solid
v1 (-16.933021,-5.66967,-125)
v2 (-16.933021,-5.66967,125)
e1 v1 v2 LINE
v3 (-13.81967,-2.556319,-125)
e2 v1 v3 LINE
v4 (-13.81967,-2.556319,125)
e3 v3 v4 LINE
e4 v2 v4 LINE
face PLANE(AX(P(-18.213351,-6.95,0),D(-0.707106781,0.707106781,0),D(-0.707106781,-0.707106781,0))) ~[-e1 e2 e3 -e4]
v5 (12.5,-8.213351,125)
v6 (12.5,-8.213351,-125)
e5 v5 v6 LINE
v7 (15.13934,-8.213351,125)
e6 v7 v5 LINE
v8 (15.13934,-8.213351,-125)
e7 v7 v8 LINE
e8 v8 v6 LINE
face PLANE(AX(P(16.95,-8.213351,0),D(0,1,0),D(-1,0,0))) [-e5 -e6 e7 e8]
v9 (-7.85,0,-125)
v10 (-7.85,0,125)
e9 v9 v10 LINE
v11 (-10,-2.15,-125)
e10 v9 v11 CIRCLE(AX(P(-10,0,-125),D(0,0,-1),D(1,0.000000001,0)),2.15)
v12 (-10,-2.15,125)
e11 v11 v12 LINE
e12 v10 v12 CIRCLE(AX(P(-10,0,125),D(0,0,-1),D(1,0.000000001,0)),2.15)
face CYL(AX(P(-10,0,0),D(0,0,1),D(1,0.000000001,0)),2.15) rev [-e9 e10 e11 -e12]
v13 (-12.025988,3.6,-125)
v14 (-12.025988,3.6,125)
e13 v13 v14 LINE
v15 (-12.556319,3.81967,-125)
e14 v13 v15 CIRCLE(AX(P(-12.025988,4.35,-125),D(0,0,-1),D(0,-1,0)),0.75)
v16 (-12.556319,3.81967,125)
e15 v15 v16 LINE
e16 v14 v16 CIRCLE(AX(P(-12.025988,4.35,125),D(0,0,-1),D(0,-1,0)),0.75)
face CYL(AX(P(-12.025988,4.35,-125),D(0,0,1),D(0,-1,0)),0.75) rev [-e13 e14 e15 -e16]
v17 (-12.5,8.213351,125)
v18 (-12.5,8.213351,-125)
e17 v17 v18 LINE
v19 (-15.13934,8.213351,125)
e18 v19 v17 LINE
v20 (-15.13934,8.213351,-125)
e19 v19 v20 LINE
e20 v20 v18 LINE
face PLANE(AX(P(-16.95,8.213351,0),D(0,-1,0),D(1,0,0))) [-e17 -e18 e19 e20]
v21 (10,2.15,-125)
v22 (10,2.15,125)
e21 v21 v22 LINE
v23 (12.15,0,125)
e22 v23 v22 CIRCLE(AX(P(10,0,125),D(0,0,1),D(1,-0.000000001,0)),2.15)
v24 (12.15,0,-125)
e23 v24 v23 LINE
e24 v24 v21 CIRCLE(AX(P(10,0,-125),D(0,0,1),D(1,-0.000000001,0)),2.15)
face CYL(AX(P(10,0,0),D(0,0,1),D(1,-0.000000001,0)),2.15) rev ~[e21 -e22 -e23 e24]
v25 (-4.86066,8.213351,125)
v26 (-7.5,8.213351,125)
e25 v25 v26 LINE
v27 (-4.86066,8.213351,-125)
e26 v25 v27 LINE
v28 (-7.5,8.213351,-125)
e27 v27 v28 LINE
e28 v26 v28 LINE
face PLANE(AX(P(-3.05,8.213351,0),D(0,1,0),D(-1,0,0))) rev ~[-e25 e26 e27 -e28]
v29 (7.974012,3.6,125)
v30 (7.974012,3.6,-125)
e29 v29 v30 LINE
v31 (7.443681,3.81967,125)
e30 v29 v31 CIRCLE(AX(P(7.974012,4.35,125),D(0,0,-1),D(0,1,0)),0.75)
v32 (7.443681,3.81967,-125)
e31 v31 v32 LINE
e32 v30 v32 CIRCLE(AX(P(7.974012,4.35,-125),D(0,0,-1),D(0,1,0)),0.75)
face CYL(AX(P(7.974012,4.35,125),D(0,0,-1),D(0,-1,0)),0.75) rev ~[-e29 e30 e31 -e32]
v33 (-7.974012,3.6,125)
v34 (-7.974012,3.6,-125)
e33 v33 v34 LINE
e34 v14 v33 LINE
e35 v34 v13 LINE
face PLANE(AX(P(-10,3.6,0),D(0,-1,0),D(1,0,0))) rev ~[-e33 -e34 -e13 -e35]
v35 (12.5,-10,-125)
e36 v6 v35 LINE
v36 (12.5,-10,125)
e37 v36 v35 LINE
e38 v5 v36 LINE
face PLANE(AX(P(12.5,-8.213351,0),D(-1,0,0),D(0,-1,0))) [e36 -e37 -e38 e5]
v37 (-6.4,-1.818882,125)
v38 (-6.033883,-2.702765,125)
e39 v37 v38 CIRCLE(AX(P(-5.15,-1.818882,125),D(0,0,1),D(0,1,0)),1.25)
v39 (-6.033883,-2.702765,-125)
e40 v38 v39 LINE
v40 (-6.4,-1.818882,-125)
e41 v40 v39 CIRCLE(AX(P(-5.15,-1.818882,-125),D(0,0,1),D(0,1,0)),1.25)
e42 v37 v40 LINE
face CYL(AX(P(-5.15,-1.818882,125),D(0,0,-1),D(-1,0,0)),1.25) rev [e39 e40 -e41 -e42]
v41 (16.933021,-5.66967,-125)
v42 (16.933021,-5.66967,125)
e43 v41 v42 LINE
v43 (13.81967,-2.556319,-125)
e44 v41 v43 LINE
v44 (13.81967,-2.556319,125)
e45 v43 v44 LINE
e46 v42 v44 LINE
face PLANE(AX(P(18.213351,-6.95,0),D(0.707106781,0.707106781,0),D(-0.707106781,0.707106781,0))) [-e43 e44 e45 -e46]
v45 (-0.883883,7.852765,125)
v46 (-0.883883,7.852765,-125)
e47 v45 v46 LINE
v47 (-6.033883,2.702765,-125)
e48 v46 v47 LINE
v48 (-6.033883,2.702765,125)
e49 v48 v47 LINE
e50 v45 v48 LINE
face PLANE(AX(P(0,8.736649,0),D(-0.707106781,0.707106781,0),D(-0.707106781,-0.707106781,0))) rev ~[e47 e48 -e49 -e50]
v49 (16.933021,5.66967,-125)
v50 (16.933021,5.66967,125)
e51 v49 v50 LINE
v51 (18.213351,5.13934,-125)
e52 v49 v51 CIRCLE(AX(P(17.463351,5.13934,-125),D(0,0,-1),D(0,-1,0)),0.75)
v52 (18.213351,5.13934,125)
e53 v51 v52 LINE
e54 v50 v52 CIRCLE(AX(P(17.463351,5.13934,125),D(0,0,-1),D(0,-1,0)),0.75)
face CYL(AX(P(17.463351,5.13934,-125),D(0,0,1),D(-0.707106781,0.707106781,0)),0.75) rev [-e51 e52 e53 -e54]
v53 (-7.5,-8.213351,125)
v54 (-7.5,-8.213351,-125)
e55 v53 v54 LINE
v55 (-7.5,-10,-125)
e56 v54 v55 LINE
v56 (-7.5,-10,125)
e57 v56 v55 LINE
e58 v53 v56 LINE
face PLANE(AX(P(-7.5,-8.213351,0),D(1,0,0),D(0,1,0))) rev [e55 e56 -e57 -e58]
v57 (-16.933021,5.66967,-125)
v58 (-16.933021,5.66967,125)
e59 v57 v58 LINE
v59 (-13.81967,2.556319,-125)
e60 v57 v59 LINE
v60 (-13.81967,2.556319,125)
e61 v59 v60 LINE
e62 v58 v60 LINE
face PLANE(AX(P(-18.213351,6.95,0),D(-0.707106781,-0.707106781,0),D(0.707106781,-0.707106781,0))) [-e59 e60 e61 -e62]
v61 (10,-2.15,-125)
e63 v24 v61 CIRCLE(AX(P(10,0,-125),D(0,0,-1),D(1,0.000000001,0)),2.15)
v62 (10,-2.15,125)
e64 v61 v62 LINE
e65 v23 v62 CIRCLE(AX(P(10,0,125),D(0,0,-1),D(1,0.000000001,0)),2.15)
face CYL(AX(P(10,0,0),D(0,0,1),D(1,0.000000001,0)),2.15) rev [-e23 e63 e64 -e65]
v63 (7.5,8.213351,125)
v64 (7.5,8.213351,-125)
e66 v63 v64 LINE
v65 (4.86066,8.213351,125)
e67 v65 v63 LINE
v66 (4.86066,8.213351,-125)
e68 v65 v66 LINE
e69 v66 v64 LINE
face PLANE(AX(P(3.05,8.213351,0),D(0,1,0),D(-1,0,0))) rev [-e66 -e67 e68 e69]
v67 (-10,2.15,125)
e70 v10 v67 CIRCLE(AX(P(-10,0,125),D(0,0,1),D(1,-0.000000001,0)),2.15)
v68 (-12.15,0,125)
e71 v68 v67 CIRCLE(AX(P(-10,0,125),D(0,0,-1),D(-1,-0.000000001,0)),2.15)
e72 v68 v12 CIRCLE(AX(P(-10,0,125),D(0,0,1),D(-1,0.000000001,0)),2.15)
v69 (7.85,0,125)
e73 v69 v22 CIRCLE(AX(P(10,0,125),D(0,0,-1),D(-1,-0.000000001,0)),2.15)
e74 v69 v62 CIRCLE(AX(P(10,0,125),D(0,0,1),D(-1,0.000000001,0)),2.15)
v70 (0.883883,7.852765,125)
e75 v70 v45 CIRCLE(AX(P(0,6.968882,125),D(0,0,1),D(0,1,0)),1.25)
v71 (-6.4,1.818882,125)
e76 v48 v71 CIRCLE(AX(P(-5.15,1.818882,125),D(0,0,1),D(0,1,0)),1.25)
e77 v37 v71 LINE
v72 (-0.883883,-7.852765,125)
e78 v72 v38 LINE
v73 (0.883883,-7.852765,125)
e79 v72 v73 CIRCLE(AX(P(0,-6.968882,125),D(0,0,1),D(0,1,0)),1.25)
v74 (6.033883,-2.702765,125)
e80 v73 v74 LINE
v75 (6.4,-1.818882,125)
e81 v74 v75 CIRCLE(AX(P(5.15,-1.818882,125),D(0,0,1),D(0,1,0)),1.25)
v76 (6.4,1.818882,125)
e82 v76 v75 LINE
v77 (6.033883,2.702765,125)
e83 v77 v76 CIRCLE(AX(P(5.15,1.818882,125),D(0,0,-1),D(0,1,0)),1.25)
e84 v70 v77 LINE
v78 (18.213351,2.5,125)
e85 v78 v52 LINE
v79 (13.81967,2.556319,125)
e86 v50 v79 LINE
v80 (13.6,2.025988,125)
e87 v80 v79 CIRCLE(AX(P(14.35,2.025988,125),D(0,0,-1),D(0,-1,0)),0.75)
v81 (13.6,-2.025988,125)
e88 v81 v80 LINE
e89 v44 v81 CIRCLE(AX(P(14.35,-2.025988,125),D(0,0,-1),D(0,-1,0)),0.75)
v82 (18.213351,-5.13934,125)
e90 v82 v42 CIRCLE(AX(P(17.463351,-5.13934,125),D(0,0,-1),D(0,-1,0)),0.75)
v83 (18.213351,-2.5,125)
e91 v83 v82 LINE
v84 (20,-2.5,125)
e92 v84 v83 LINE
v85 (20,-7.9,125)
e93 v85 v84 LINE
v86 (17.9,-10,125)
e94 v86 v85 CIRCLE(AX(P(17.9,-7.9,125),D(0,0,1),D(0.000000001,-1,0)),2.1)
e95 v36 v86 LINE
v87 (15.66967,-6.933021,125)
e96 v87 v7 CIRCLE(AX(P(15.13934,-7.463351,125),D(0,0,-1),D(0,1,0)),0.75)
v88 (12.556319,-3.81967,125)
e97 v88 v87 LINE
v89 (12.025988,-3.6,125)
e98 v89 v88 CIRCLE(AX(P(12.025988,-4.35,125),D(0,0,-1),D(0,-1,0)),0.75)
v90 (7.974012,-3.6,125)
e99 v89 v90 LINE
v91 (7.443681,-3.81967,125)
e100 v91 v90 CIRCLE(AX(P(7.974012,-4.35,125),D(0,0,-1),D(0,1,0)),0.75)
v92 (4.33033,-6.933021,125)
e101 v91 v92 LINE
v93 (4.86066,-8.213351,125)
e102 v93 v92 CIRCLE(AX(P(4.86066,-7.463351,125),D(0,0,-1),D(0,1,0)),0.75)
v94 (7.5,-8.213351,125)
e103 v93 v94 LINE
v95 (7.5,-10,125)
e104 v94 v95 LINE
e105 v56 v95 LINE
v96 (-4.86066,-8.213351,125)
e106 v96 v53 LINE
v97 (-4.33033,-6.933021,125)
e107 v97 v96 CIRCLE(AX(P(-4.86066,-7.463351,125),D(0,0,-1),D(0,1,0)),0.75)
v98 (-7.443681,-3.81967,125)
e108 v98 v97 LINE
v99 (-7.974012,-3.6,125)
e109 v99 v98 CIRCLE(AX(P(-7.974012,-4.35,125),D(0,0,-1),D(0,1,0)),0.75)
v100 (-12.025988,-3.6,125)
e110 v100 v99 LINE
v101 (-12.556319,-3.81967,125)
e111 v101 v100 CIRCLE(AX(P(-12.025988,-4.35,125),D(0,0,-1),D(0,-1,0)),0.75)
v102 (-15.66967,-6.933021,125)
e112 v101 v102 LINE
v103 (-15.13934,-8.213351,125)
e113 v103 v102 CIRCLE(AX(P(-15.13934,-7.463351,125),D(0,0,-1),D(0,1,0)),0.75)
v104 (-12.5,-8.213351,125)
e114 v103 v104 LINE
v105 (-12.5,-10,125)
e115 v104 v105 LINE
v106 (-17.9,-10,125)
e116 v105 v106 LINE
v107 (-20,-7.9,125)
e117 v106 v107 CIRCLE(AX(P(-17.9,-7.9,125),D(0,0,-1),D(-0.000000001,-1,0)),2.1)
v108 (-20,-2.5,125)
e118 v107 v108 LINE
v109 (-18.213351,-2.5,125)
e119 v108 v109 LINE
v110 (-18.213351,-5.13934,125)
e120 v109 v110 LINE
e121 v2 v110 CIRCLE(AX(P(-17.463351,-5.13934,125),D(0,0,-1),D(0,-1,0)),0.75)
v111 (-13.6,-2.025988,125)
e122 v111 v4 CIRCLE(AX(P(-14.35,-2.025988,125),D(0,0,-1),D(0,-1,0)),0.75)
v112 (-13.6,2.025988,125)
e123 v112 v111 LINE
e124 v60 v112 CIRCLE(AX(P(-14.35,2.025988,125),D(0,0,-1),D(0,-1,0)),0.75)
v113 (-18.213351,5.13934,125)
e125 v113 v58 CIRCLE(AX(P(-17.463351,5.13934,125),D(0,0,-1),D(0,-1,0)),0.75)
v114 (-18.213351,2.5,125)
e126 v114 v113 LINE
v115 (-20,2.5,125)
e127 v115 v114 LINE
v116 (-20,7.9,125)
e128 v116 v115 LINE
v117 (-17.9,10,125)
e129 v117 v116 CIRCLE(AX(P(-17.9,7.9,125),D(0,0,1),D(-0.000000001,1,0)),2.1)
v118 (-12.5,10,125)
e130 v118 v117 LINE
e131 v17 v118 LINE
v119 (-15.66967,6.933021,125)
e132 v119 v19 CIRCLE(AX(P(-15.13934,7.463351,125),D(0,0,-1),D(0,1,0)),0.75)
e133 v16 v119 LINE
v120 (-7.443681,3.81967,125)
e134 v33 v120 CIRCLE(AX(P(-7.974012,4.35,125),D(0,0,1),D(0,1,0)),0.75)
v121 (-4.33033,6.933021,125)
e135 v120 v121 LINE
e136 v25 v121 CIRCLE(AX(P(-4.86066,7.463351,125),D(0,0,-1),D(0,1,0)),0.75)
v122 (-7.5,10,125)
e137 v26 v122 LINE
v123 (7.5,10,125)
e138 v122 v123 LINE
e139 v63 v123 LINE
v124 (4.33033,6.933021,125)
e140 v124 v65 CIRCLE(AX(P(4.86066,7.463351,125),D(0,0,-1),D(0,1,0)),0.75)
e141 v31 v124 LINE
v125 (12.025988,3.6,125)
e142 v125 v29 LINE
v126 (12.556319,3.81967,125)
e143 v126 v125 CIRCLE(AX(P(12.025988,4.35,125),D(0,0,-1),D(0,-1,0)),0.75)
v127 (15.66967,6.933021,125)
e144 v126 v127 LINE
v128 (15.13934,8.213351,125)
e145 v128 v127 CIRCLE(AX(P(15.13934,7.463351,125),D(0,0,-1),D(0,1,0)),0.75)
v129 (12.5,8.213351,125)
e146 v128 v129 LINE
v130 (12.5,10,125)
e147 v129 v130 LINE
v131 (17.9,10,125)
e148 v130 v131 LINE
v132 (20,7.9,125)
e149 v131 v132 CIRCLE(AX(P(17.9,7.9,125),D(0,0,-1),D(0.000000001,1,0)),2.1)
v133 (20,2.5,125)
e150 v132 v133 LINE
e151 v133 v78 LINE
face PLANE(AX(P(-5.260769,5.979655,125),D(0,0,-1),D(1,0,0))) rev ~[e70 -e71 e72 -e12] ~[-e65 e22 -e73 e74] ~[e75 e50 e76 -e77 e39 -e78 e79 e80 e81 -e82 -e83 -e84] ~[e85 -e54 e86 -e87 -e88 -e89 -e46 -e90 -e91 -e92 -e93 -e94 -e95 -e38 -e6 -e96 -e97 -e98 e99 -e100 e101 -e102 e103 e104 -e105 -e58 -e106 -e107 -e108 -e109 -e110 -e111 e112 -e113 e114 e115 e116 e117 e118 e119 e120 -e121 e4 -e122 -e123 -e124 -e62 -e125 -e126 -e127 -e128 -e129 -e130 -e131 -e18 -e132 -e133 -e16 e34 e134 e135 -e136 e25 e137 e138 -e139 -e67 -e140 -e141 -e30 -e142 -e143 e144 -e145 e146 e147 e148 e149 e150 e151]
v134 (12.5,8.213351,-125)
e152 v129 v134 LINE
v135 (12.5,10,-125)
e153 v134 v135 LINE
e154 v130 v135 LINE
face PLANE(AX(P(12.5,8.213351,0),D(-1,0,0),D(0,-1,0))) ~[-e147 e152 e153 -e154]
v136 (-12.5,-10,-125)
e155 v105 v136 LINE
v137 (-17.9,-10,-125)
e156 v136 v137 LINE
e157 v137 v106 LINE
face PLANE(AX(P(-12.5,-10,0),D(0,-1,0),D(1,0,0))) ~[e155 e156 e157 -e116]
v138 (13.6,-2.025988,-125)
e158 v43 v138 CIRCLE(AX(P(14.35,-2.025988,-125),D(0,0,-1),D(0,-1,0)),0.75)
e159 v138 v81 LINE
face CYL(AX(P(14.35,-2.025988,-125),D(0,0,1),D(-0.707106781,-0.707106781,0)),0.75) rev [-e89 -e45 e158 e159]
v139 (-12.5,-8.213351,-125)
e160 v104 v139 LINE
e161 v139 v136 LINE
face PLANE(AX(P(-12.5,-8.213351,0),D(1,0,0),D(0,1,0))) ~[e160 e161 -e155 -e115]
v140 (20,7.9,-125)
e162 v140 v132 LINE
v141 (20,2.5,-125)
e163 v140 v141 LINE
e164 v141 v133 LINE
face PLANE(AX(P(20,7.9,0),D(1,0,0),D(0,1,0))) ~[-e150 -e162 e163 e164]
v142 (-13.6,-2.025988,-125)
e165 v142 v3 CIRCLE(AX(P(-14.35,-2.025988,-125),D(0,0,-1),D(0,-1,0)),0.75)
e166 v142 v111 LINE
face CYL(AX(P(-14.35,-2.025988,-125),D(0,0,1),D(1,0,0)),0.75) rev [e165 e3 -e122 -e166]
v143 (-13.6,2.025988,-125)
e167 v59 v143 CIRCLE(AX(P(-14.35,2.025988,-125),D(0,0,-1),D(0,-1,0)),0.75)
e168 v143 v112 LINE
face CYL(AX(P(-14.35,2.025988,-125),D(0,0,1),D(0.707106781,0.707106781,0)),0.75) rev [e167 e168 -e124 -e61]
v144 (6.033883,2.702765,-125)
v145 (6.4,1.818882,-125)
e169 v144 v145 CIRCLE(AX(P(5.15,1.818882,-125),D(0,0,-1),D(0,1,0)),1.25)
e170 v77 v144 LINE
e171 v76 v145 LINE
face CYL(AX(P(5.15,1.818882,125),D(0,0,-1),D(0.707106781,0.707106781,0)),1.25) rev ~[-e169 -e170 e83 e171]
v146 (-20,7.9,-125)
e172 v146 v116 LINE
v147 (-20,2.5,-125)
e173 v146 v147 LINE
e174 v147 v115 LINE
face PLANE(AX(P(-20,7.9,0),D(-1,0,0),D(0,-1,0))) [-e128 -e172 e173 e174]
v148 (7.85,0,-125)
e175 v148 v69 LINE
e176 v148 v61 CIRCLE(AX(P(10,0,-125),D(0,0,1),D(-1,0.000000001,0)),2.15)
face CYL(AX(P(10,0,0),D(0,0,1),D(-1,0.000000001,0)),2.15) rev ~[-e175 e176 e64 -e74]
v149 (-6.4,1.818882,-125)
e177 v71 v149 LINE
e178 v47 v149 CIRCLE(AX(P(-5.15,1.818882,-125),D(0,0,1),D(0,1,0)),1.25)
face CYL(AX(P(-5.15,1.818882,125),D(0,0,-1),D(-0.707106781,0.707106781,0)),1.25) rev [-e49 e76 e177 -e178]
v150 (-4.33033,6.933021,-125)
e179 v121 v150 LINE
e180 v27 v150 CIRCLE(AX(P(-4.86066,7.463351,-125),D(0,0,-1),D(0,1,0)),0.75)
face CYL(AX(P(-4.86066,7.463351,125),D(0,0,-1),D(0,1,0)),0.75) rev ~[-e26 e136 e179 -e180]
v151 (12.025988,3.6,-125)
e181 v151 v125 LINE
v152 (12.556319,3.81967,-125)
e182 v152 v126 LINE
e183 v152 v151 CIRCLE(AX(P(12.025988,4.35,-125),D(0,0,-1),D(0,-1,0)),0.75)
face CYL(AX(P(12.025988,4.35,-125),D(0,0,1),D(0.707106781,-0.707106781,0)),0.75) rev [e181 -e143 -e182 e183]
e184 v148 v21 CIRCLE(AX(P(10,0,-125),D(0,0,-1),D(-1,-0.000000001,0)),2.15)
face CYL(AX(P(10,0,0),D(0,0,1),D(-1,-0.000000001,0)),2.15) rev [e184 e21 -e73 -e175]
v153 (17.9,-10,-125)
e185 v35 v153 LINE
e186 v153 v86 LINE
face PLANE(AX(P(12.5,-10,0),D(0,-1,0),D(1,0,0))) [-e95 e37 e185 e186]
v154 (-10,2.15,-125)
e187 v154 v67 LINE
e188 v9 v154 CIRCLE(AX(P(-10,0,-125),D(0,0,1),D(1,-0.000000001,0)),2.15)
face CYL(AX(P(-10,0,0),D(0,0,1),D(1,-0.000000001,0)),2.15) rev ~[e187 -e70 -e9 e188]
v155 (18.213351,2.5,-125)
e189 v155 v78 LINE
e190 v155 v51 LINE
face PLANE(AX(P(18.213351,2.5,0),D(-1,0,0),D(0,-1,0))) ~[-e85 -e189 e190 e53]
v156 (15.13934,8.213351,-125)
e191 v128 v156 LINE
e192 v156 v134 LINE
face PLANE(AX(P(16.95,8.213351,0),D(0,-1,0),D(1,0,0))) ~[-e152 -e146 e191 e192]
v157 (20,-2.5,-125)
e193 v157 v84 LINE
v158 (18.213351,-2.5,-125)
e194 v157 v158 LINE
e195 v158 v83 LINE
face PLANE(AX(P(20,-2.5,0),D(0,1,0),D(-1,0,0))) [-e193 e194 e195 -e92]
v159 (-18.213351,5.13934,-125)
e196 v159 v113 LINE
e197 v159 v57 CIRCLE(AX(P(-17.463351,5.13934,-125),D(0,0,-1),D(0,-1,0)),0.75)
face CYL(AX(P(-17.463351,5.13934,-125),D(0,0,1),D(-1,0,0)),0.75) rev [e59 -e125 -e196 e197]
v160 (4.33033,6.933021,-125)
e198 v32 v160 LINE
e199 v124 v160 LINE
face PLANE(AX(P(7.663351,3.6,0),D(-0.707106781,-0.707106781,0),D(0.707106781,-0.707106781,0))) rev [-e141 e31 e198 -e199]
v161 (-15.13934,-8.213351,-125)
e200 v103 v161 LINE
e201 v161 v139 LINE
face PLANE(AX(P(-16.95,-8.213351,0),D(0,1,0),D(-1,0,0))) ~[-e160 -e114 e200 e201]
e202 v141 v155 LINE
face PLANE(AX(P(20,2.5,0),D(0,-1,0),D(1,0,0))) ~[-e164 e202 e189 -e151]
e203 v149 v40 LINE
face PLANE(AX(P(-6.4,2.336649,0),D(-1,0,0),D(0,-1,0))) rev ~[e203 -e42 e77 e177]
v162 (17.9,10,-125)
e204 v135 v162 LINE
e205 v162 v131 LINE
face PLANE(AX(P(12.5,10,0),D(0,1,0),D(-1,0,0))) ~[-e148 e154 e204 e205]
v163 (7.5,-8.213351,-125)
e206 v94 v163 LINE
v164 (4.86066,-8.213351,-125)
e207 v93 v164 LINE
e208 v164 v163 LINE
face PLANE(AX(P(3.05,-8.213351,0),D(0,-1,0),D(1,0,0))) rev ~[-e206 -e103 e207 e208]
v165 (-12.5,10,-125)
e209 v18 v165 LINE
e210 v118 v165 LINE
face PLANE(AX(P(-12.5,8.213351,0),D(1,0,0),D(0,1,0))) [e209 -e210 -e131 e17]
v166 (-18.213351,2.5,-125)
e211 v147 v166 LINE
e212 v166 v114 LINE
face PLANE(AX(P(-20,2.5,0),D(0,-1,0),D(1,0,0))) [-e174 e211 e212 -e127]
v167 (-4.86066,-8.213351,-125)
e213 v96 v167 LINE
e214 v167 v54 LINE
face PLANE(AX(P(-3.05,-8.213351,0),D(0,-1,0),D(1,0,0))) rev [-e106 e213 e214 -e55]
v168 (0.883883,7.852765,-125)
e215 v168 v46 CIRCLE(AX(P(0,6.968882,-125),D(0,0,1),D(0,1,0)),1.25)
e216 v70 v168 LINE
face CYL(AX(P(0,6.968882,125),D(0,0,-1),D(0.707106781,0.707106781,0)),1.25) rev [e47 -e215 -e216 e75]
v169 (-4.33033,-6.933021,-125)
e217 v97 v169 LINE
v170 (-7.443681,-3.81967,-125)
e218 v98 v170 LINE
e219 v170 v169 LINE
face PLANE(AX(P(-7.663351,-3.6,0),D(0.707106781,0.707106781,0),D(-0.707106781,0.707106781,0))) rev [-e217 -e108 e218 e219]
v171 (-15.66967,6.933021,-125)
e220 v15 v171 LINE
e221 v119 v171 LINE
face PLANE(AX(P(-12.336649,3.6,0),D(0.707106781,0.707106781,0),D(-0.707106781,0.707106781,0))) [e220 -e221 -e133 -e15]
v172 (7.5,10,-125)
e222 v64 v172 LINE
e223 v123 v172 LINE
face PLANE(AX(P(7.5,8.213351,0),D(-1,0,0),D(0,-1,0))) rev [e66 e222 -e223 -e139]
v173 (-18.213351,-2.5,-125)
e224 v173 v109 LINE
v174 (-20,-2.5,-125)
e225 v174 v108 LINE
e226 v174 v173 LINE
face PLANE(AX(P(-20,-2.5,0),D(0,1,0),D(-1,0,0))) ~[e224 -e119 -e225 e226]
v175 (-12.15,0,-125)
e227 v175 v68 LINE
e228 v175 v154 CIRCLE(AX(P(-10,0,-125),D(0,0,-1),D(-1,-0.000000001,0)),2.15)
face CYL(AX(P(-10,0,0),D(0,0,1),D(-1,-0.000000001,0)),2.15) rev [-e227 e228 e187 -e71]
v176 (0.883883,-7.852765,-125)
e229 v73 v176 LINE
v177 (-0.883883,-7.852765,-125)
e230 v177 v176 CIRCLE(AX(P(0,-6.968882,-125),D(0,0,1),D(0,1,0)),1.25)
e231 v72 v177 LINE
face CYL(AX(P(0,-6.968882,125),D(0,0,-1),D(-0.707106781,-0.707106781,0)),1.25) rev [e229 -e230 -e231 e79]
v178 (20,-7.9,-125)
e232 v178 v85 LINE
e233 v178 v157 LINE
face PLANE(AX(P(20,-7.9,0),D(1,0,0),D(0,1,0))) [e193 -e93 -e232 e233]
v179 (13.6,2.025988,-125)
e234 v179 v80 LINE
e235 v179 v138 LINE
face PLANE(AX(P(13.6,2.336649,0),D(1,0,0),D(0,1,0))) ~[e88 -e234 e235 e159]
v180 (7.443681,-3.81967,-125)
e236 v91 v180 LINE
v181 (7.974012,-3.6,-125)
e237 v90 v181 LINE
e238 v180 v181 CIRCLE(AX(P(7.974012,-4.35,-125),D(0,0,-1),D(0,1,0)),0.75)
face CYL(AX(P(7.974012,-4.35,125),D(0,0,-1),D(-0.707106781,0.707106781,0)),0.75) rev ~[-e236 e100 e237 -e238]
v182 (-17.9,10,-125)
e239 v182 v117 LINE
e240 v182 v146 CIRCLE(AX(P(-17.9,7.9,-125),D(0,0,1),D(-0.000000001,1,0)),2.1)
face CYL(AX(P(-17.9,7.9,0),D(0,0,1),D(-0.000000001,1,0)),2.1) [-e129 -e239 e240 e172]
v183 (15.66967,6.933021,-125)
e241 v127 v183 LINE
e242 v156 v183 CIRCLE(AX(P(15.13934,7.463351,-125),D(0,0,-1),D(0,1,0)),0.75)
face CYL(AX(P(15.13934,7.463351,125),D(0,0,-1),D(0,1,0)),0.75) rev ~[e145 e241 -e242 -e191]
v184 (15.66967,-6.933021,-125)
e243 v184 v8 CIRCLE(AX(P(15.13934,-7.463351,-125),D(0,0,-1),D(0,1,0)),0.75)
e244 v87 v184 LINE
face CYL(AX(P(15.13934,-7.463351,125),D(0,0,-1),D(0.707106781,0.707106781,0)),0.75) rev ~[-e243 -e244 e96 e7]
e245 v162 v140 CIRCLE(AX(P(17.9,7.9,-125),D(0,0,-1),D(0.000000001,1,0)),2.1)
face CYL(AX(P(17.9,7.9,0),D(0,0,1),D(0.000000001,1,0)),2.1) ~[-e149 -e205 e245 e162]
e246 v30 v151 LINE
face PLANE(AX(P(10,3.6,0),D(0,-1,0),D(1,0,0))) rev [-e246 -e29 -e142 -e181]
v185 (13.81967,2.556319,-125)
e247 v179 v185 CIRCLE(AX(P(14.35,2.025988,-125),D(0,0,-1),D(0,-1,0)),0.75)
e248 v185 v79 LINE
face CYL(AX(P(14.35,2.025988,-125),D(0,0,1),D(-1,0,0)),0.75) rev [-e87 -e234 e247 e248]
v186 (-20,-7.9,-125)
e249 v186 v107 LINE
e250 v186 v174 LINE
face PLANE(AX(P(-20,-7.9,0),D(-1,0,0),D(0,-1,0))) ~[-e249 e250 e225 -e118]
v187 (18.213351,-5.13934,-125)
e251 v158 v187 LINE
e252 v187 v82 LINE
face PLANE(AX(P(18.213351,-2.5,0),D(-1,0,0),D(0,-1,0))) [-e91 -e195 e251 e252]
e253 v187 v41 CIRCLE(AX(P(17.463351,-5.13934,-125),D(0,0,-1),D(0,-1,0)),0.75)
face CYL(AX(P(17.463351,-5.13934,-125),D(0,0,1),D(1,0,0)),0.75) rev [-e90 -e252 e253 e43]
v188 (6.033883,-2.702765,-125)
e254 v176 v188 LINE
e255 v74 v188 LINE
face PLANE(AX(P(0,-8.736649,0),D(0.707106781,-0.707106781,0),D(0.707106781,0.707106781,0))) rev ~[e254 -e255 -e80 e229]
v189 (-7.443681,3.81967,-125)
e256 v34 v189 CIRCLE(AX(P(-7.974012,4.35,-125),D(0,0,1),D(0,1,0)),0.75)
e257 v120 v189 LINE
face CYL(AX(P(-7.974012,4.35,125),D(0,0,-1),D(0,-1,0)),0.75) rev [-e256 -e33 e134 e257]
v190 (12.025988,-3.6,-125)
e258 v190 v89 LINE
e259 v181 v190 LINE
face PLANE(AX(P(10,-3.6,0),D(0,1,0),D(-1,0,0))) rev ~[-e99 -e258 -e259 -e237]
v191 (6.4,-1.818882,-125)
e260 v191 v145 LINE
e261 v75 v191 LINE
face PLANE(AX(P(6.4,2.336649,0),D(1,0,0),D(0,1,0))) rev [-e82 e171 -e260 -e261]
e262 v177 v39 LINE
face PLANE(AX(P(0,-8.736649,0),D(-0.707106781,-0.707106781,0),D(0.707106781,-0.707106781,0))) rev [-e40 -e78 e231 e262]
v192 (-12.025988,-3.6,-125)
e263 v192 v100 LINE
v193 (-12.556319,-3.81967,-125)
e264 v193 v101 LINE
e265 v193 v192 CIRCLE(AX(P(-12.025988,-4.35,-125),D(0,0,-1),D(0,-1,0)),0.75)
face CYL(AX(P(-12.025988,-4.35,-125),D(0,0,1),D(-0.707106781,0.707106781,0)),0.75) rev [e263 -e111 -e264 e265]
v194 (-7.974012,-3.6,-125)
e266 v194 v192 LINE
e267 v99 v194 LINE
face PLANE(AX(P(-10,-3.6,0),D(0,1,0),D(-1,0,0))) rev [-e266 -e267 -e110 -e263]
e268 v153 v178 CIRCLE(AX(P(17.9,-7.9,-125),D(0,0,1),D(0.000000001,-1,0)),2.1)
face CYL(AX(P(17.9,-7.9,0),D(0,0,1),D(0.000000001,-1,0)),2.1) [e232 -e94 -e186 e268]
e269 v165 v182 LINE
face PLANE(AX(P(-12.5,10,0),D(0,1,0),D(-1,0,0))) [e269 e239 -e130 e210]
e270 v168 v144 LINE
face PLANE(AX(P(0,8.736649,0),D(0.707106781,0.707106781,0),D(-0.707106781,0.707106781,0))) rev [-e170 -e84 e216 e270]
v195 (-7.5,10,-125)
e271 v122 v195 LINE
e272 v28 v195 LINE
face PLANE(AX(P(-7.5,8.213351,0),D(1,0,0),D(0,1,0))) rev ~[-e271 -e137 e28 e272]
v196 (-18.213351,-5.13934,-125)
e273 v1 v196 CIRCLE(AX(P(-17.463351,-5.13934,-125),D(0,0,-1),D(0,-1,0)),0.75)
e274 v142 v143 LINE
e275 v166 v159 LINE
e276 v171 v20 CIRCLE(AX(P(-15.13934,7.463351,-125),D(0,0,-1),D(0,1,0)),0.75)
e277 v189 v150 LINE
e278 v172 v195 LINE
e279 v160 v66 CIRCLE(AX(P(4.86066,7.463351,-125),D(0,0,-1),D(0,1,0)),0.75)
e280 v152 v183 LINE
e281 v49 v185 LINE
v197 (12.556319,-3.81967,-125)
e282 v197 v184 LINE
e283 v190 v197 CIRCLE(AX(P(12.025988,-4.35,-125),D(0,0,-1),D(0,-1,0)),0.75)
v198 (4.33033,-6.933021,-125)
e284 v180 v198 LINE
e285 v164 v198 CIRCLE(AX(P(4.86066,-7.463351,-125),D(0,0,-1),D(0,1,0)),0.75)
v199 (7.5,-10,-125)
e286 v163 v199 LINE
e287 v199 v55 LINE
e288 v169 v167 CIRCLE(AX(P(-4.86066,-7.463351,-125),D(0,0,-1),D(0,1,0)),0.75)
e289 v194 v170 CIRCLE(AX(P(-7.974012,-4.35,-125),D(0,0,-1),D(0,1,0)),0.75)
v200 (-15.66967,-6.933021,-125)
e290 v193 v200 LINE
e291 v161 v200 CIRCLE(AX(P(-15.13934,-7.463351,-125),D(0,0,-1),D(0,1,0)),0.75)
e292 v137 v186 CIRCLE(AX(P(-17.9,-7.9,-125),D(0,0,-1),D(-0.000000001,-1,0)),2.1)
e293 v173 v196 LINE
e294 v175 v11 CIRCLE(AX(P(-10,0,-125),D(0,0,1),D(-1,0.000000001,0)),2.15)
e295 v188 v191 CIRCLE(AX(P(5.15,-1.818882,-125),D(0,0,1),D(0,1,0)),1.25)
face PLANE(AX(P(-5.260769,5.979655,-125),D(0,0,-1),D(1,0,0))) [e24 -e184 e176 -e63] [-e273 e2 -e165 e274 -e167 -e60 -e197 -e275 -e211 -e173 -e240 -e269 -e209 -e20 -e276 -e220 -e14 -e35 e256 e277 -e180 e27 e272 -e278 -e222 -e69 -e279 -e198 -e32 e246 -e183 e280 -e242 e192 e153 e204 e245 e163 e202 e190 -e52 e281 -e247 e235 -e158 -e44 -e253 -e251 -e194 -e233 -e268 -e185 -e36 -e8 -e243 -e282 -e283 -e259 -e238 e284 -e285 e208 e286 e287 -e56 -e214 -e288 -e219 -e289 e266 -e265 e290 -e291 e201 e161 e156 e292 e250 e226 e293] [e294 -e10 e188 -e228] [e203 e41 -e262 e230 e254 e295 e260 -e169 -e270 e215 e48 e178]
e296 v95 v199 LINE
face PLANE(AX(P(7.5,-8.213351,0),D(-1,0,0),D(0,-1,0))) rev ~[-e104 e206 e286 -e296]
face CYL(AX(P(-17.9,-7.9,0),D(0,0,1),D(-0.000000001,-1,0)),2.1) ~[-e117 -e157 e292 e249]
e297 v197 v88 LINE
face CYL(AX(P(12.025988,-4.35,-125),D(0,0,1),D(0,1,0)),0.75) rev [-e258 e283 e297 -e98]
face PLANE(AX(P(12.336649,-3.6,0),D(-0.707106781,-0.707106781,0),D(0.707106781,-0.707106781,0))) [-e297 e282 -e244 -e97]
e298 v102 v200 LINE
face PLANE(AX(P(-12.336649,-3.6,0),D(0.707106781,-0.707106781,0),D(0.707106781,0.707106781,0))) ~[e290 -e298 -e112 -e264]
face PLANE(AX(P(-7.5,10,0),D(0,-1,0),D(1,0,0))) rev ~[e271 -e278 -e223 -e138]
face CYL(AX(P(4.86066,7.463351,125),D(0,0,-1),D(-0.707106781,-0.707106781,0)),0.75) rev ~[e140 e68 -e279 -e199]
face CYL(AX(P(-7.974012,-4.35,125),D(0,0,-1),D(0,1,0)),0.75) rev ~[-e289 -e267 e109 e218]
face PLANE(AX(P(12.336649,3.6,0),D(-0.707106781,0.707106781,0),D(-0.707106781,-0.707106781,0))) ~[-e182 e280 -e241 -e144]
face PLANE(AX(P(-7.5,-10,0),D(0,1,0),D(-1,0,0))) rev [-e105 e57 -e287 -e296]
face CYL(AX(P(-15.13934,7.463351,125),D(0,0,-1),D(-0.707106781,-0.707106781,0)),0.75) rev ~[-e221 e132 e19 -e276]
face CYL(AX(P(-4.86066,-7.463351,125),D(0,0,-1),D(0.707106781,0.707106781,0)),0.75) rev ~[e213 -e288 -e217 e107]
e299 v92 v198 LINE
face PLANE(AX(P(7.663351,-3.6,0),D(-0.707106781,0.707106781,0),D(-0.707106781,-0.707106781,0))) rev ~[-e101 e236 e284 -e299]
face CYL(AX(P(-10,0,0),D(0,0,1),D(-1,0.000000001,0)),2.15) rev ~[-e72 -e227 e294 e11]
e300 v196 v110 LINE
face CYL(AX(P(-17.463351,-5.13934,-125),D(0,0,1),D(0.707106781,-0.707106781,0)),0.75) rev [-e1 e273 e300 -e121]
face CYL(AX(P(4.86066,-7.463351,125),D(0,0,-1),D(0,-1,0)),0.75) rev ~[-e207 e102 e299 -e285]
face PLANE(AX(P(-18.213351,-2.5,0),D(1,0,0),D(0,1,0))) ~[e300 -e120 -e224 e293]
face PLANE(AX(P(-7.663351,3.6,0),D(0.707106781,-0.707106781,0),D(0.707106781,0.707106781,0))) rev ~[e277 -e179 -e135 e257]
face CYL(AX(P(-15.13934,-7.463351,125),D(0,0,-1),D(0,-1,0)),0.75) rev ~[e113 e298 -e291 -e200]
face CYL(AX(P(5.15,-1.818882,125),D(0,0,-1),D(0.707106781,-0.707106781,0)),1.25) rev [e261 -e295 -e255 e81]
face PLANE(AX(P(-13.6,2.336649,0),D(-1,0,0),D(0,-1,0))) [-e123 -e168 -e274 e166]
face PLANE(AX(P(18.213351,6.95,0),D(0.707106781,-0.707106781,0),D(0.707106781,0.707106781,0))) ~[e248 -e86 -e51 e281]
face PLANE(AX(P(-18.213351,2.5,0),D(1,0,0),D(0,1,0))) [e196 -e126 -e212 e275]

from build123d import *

# Parameters (mm, degrees)
BOSS_EXTRUDE1_DEPTH = 125
BOSS_EXTRUDE2_DEPTH = 125
FILLET1_R           = 0.75
FILLET2_R           = 1.25


with BuildPart() as part:
    # Sketch3 → Boss-Extrude1 (new body, symmetric)
    with BuildSketch(Plane.XY):
        with BuildLine():
            Line((12.5, -10), (17.9, -10))
            ThreePointArc((17.9, -10), (19.38492424, -9.38492424), (20, -7.9))
            Line((20, -7.9), (20, -2.5))
            Line((20, -2.5), (18.213351365, -2.5))
            Line((18.213351365, -2.5), (18.213351365, -6.95))
            Line((18.213351365, -6.95), (13.6, -2.336648635))
            Line((13.6, -2.336648635), (13.6, 0))
            Line((13.6, 0), (12.15, 0))
            ThreePointArc((12.15, 0), (11.52027958, -1.52027958), (10, -2.15))
            Line((10, -2.15), (10, -3.6))
            Line((10, -3.6), (12.336648635, -3.6))
            Line((12.336648635, -3.6), (16.95, -8.213351365))
            Line((16.95, -8.213351365), (12.5, -8.213351365))
            Line((12.5, -8.213351365), (12.5, -10))
        make_face()
    extrude(amount=BOSS_EXTRUDE1_DEPTH, both=True)

    # Sketch4 → Boss-Extrude2 (add, symmetric)
    with BuildSketch(Plane.XY):
        with BuildLine():
            Line((10, -3.6), (7.663351365, -3.6))
            Line((7.663351365, -3.6), (3.05, -8.213351365))
            Line((3.05, -8.213351365), (7.5, -8.213351365))
            Line((7.5, -8.213351365), (7.5, -10))
            Line((7.5, -10), (0, -10))
            Line((0, -10), (0, -8.736648635))
            Line((0, -8.736648635), (6.4, -2.336648635))
            Line((6.4, -2.336648635), (6.4, 0))
            Line((6.4, 0), (7.85, 0))
            ThreePointArc((7.85, 0), (8.47972042, -1.52027958), (10, -2.15))
            Line((10, -2.15), (10, -3.6))
        make_face()
    extrude(amount=BOSS_EXTRUDE2_DEPTH, both=True)

    # Mirror1: part across plane


with BuildPart() as part_1:
    add(part.part)
    add(part.part.mirror(Plane(origin=(0, 0, 0), x_dir=(0, 0, 1), z_dir=(1, 0, 0))))

    # Mirror2: part across plane


with BuildPart() as part_2:
    add(part_1.part)
    add(part_1.part.mirror(Plane.ZX))

    # Fillet1
    fillet1_edges = [part_2.edges().sort_by_distance(p)[0] for p in [
        (18.213351365, 6.95, 0),
        (13.6, 2.336648635, 0),
        (12.336648635, 3.6, 0),
        (16.95, 8.213351365, 0),
        (3.05, 8.213351365, 0),
        (7.663351365, 3.6, 0),
        (-18.213351365, 6.95, 0),
        (-13.6, 2.336648635, 0),
        (-7.663351365, 3.6, 0),
        (-12.336648635, 3.6, 0),
        (-16.95, 8.213351365, 0),
        (-3.05, 8.213351365, 0),
        (16.95, -8.213351365, 0),
        (12.336648635, -3.6, 0),
        (13.6, -2.336648635, 0),
        (18.213351365, -6.95, 0),
        (3.05, -8.213351365, 0),
        (7.663351365, -3.6, 0),
        (-18.213351365, -6.95, 0),
        (-13.6, -2.336648635, 0),
        (-12.336648635, -3.6, 0),
        (-16.95, -8.213351365, 0),
        (-3.05, -8.213351365, 0),
        (-7.663351365, -3.6, 0),
    ]]
    fillet(fillet1_edges, radius=FILLET1_R)

    # Fillet2
    fillet2_edges = [part_2.edges().sort_by_distance(p)[0] for p in [
        (6.4, 2.336648635, 0),
        (0, 8.736648635, 0),
        (-6.4, 2.336648635, 0),
        (6.4, -2.336648635, 0),
        (-6.4, -2.336648635, 0),
        (0, -8.736648635, 0),
    ]]
    fillet(fillet2_edges, radius=FILLET2_R)


solid = part_2.part
